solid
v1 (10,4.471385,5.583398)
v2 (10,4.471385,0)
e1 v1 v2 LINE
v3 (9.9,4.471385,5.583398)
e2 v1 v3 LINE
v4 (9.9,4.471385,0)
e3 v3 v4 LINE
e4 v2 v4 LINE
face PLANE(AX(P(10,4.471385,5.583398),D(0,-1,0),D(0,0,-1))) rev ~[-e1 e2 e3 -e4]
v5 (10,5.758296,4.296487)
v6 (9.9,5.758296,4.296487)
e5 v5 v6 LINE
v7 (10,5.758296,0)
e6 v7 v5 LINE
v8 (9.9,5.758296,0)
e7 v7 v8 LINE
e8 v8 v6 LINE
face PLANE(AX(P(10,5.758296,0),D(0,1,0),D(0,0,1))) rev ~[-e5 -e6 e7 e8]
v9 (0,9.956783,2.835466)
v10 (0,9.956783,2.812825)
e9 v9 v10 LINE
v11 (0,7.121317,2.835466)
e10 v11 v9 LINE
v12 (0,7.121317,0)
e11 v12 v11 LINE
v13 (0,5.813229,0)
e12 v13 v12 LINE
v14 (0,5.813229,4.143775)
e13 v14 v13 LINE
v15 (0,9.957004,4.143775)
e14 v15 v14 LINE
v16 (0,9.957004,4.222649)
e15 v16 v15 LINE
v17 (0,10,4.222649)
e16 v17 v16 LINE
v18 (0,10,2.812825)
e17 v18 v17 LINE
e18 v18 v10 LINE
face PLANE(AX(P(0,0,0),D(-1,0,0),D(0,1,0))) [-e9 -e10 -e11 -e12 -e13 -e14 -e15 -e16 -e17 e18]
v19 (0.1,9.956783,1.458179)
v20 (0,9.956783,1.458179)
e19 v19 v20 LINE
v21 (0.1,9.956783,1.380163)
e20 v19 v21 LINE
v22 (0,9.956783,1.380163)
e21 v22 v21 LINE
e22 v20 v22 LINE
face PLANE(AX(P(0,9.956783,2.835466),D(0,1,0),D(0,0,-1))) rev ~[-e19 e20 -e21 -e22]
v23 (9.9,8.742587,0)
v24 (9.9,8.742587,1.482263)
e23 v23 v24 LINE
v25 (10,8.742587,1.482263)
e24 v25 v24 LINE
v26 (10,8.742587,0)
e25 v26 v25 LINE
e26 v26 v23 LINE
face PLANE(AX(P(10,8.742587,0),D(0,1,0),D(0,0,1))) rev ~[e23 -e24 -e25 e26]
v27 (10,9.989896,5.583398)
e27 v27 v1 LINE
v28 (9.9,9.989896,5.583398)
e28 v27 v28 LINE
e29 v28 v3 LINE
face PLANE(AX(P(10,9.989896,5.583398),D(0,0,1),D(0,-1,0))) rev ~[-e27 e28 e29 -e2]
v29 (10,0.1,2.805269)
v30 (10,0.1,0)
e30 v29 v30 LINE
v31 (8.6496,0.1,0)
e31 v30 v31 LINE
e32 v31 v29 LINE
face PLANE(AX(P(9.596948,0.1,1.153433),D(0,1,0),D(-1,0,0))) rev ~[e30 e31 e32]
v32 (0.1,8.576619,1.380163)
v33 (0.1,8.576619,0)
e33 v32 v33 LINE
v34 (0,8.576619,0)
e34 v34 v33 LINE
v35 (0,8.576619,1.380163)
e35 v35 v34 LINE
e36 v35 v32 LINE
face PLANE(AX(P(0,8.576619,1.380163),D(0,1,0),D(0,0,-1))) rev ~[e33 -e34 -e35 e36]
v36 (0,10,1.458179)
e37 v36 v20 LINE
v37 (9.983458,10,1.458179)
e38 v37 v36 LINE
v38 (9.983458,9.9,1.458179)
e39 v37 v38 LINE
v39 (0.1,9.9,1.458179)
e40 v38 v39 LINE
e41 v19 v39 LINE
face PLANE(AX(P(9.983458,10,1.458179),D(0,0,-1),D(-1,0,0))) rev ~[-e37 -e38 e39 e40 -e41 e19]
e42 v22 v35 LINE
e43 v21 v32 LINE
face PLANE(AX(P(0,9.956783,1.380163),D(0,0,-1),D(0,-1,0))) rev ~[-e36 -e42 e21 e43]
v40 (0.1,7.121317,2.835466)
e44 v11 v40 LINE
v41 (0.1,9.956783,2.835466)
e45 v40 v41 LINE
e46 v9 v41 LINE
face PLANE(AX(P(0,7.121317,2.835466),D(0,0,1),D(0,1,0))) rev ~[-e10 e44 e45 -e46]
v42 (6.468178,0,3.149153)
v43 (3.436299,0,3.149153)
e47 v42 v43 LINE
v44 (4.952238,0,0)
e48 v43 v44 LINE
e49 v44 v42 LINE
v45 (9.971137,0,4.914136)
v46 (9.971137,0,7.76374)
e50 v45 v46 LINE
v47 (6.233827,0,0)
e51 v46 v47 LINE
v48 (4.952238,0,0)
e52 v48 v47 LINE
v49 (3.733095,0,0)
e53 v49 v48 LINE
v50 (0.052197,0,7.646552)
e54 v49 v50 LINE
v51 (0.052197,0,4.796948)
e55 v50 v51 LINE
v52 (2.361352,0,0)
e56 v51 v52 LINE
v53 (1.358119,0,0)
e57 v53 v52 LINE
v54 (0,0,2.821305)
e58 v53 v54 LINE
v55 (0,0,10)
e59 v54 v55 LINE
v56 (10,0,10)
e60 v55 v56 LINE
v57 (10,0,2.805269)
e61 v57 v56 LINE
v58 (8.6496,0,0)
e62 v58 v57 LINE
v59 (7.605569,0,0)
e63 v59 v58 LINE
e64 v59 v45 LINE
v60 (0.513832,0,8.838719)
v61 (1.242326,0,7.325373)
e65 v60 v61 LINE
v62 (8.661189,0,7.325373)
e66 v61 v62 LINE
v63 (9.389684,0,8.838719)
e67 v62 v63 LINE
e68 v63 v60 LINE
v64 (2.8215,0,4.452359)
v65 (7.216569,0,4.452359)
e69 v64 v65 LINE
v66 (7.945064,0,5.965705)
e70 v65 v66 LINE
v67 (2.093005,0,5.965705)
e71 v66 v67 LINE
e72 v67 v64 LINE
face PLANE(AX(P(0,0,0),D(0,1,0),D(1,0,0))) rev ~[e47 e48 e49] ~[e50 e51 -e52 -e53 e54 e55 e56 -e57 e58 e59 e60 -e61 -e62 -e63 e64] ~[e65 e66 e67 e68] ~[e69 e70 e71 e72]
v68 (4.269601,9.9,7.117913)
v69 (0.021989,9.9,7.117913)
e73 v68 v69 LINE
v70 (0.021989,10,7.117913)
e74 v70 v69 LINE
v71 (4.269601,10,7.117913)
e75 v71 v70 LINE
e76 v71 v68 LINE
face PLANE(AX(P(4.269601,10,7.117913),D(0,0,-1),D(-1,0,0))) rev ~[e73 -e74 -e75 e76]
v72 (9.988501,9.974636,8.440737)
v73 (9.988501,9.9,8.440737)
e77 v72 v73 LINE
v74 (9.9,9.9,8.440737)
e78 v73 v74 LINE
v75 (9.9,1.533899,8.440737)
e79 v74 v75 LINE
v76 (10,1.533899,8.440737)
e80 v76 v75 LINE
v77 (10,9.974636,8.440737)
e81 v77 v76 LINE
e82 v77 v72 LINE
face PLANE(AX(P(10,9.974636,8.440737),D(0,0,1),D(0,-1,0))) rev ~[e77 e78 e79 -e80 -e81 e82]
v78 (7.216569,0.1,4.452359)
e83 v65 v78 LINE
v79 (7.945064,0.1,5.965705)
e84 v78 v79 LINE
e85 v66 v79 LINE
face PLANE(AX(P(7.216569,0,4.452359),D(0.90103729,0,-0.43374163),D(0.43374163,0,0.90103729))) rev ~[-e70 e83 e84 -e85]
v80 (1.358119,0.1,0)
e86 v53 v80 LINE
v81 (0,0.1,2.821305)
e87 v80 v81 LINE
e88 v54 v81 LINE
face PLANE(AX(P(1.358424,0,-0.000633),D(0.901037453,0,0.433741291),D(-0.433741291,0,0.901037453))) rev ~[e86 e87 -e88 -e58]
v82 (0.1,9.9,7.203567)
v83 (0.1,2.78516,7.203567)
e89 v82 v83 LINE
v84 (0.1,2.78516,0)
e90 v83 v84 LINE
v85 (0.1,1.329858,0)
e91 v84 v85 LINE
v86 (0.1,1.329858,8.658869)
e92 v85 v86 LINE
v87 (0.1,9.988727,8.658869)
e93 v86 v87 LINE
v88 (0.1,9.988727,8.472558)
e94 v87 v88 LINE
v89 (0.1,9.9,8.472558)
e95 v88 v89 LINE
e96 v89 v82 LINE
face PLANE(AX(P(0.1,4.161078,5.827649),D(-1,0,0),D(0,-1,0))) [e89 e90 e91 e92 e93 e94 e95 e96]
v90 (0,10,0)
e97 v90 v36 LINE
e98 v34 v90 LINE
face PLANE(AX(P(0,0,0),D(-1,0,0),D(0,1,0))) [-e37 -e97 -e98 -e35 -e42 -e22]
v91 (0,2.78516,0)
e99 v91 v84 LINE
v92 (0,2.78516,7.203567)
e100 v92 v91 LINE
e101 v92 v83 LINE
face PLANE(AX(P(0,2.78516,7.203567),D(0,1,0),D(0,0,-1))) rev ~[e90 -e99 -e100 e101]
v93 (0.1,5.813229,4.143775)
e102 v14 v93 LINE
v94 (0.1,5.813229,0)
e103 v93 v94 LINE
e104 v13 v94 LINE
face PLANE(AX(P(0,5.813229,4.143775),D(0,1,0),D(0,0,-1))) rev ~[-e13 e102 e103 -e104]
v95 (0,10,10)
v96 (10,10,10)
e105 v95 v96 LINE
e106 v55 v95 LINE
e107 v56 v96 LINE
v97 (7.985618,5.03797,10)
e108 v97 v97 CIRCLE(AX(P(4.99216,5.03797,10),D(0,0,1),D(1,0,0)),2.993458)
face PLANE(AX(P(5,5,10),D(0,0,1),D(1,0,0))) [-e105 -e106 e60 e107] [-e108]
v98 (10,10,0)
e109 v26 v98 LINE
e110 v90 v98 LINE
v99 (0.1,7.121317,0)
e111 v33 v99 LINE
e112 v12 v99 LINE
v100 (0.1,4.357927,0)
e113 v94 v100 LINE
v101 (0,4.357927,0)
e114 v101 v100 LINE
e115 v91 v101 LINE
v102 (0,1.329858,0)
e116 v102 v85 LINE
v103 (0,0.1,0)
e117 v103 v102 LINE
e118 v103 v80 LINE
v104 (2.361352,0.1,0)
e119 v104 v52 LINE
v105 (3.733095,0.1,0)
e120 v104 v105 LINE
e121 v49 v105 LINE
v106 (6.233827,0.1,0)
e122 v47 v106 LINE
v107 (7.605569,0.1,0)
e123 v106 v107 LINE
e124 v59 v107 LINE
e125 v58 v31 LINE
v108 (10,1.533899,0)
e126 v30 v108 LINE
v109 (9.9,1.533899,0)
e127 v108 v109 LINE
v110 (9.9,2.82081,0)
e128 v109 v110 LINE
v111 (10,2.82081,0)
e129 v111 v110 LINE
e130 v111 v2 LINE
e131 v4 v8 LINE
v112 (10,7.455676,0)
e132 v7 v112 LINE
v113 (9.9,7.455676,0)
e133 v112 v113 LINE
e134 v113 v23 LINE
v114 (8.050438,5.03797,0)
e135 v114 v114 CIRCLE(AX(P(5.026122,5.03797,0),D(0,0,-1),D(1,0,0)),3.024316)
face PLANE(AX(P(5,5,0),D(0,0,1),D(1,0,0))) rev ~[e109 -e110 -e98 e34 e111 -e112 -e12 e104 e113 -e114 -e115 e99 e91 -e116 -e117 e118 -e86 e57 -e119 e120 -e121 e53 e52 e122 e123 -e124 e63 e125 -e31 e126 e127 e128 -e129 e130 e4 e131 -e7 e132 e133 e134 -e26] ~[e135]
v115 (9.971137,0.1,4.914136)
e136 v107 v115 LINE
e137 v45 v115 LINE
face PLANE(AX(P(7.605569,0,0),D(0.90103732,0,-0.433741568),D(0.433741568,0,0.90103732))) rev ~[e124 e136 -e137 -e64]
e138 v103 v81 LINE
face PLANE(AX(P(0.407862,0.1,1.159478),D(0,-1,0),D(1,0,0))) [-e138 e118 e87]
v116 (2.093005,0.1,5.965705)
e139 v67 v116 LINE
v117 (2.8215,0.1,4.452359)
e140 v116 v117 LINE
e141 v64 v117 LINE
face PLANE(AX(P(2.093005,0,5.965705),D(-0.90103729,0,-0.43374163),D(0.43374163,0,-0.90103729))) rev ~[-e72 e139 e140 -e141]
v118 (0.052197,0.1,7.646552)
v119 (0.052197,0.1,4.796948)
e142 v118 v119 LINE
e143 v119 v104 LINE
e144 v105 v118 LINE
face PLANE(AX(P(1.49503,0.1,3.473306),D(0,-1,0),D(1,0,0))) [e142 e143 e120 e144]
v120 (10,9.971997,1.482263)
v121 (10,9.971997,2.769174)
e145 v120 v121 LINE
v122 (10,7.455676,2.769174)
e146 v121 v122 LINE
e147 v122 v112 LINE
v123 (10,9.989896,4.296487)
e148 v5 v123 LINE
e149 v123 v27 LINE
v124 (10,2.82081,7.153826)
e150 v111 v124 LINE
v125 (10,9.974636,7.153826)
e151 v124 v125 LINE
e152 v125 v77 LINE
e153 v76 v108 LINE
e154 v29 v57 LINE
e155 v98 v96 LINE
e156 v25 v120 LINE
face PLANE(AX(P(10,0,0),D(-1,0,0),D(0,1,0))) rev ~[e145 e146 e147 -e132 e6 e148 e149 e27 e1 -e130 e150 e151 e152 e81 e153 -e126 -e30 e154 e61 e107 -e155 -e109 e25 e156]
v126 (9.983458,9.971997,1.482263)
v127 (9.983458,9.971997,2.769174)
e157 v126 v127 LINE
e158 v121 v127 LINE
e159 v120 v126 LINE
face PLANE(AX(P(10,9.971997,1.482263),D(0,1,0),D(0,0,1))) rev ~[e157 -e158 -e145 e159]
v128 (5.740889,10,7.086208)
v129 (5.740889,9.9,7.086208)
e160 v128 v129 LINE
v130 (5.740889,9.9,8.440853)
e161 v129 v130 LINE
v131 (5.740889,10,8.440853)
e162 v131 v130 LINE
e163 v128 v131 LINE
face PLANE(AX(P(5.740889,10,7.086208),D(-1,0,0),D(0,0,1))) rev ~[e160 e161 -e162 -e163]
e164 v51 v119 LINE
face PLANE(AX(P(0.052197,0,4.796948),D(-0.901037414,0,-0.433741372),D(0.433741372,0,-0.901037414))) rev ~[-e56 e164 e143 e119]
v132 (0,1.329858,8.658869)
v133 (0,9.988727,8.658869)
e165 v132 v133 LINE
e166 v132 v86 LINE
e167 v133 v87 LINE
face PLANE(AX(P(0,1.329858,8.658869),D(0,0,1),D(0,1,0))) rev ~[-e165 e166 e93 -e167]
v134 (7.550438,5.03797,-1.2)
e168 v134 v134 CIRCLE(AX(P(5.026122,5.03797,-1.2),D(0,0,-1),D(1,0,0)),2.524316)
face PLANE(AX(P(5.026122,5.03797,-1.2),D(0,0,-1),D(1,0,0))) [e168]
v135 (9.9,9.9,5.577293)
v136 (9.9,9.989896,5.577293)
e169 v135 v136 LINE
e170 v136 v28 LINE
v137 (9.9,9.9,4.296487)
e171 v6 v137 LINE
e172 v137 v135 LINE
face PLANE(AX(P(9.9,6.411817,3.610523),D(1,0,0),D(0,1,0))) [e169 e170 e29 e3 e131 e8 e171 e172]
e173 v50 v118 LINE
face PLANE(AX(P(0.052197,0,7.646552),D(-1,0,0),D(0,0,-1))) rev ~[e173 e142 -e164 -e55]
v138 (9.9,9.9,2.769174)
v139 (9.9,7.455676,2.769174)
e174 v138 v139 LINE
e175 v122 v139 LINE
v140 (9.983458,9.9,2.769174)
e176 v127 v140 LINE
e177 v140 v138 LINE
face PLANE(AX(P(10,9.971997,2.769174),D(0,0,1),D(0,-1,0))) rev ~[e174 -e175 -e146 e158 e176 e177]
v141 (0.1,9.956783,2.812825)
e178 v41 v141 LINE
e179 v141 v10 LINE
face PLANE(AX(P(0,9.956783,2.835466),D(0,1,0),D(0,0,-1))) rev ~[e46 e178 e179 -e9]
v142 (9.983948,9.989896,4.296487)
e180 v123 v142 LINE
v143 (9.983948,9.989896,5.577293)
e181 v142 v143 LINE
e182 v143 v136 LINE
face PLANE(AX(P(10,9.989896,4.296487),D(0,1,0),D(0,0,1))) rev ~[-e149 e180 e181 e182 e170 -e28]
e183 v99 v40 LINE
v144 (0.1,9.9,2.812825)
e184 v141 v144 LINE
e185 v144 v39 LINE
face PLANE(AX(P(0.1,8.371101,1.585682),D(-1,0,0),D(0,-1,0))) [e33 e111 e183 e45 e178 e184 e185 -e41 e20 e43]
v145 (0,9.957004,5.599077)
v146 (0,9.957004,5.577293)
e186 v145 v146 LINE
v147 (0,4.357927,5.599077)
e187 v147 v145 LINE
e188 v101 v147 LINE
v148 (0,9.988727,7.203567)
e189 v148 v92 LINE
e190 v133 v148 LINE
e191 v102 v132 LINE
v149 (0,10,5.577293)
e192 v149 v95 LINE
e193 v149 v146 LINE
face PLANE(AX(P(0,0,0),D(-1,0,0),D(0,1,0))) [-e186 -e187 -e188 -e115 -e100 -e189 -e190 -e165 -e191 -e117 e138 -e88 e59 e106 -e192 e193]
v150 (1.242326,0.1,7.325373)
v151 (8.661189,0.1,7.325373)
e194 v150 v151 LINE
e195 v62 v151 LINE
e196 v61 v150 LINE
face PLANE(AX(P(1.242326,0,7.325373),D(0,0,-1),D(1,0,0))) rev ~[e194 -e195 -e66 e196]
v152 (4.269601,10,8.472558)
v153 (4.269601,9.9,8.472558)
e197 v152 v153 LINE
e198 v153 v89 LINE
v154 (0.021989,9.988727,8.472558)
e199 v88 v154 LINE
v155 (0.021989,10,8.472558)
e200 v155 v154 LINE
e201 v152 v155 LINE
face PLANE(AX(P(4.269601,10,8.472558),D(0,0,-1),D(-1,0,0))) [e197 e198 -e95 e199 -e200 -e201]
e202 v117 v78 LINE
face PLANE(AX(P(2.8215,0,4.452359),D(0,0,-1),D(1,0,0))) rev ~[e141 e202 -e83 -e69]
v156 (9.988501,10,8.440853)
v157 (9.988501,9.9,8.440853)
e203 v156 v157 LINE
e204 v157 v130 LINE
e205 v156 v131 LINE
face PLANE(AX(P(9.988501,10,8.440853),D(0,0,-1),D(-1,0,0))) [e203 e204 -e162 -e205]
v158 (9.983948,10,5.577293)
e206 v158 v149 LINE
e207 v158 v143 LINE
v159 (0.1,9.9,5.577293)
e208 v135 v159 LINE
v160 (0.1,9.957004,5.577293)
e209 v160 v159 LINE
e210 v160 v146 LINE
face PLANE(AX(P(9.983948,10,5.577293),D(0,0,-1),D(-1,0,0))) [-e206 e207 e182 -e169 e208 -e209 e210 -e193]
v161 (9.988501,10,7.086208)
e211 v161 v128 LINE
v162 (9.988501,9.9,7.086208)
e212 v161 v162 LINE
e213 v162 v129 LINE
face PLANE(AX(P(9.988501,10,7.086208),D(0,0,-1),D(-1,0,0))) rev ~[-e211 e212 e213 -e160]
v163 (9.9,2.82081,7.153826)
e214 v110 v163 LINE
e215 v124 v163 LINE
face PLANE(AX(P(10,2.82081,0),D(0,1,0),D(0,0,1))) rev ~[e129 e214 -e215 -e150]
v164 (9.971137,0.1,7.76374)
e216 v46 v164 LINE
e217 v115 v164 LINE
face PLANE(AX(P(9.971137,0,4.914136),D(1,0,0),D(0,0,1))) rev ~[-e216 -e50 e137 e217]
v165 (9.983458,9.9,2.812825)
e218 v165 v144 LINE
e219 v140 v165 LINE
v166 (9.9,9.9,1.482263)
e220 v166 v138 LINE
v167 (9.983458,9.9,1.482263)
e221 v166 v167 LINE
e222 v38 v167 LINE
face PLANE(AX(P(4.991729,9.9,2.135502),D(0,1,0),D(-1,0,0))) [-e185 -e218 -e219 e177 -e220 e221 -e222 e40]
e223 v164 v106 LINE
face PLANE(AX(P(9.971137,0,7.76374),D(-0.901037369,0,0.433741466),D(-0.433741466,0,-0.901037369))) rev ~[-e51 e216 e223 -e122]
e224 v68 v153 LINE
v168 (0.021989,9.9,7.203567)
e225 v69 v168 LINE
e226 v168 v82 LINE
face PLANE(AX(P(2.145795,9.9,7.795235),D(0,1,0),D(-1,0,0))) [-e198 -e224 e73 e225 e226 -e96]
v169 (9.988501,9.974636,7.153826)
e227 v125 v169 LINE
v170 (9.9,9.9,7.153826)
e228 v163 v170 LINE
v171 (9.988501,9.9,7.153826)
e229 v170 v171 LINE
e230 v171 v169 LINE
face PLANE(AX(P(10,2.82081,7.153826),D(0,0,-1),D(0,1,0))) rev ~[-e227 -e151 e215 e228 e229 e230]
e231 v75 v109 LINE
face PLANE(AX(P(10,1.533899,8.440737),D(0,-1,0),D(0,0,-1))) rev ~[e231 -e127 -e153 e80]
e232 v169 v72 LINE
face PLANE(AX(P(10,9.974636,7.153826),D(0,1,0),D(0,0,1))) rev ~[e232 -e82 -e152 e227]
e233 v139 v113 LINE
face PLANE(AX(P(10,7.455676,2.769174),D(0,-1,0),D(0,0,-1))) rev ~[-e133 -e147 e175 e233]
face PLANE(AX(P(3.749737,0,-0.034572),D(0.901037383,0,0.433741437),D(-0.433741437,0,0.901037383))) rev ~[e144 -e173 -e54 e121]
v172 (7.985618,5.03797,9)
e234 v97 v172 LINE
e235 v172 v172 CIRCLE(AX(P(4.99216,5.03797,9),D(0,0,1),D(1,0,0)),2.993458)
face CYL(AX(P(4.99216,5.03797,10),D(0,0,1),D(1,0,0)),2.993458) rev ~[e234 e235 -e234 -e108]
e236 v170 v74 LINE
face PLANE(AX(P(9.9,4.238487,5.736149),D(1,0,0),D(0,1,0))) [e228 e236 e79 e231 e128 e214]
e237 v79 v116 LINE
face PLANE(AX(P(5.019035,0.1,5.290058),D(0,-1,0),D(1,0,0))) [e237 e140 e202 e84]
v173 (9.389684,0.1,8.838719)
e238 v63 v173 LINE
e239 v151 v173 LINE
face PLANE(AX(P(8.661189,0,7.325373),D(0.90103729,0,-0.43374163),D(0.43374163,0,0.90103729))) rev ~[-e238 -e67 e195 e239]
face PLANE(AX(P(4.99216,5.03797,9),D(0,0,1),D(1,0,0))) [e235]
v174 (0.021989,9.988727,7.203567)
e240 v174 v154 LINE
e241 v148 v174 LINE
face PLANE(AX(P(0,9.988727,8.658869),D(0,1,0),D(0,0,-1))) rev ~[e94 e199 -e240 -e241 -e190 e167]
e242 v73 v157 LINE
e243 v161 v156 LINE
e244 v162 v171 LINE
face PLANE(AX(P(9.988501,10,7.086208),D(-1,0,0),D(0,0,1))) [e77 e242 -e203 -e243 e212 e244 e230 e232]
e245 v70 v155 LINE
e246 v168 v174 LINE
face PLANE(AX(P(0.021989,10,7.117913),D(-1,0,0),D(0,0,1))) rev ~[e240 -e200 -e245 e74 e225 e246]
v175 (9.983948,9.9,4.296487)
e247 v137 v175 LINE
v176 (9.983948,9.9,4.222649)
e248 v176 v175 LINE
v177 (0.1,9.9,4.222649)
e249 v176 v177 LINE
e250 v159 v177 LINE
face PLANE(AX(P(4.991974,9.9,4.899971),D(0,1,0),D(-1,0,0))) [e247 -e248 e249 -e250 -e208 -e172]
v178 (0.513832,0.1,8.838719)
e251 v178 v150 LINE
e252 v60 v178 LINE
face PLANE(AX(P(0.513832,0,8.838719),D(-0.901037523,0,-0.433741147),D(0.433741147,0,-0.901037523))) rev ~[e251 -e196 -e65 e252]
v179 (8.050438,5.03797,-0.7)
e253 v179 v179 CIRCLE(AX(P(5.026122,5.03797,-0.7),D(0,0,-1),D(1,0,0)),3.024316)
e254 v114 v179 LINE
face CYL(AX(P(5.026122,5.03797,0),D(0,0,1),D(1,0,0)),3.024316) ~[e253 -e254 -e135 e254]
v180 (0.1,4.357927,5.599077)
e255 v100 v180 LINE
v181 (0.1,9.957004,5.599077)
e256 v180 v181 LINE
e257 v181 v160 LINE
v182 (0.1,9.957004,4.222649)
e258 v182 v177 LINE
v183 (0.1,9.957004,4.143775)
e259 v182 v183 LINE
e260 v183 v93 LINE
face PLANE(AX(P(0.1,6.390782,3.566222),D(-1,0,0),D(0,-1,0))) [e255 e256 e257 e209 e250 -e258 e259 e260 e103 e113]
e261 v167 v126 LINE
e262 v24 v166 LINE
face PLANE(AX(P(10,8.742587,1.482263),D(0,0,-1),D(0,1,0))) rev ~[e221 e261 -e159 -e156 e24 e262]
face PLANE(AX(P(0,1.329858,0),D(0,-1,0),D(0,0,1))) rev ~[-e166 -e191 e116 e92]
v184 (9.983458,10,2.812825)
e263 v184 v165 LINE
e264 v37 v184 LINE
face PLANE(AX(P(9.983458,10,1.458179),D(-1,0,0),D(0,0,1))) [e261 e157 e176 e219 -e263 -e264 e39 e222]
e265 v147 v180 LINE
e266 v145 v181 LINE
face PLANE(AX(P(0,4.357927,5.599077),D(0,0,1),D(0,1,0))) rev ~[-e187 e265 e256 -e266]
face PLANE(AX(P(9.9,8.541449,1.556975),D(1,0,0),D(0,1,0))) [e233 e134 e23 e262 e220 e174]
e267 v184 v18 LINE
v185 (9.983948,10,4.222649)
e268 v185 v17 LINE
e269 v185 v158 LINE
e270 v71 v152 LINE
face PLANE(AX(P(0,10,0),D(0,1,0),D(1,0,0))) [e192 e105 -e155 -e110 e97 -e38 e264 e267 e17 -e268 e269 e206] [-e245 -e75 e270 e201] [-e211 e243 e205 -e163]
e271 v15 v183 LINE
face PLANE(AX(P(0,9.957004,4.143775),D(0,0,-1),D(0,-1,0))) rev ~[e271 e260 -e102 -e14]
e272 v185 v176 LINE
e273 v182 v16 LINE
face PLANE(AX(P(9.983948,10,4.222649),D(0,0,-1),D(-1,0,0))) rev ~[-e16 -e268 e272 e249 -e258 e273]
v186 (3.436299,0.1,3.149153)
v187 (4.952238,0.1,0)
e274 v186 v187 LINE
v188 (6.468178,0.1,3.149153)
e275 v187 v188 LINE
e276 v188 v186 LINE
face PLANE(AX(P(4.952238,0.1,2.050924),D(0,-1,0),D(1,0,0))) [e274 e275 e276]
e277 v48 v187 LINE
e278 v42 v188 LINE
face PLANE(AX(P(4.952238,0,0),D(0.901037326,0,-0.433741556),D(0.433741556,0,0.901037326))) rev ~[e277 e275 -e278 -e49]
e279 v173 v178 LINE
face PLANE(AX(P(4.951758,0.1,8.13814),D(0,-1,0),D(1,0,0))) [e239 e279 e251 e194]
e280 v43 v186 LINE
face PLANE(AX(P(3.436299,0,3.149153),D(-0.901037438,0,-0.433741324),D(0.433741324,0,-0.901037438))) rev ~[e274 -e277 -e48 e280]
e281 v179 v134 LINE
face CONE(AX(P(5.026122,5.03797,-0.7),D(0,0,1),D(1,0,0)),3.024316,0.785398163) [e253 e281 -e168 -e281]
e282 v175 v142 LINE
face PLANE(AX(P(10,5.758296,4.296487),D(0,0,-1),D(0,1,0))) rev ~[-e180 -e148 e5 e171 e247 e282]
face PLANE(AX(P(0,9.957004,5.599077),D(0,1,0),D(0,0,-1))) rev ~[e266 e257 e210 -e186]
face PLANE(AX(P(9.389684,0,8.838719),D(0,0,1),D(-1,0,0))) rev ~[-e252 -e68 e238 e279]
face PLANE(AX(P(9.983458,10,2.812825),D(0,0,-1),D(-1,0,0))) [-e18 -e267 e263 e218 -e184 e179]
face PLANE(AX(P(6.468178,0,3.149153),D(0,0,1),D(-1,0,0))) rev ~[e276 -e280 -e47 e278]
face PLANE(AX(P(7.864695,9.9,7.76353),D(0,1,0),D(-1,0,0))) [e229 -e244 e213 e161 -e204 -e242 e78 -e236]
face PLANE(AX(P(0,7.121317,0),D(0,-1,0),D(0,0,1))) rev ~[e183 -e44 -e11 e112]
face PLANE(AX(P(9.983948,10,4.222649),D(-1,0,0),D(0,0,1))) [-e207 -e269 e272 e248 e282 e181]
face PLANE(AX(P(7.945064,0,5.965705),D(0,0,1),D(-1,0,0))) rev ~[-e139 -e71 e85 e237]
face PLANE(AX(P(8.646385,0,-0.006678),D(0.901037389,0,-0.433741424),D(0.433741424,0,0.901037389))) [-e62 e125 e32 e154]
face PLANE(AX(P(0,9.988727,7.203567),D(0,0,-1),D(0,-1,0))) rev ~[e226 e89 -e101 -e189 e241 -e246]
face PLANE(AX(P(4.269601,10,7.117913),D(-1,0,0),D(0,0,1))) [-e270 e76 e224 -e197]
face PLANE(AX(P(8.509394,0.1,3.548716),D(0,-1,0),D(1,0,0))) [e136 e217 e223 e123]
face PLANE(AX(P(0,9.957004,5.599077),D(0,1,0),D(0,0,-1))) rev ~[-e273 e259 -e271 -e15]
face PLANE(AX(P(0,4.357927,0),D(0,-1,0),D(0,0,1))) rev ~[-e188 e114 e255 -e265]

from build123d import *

# Parameters (mm, degrees)
BOX_W           = 10
BOX_H           = 10
BOX_DEPTH       = 10
POCKET_DEPTH    = 0.1
POCKET001_DEPTH = 0.1
POCKET002_DEPTH = 0.1
SKETCH003_W     = 9.983458
SKETCH003_H     = 1.354645
SKETCH003_W_2   = 9.983948
SKETCH003_W_3   = 4.247611
POCKET003_DEPTH = 0.1
SKETCH005_R     = 2.993458
POCKET004_DEPTH = 1
SKETCH004_R     = 3.024316
PAD_DEPTH       = 1.2
CHAMFER_SIZE    = 0.5


with BuildPart() as part:
    # Box → Box (new body)
    with BuildSketch(Plane.XY):
        with Locations((5, 5)):
            Rectangle(BOX_W, BOX_H)
    extrude(amount=BOX_DEPTH)

    # Sketch → Pocket (cut)
    with BuildSketch(Plane.XZ):
        Polygon((-0.013318, 2.848971), (-0.013318, -0.000633), (1.358424, -0.000633), align=None)
        Polygon((10.018128, 2.842927), (10.018128, -0.006678), (8.646385, -0.006678), align=None)
        Polygon((0.052197, 7.646552), (0.052197, 4.796948), (2.377994, -0.034572), (3.749737, -0.034572), align=None)
        Polygon((6.233827, 0), (7.605569, 0), (9.971137, 4.914136), (9.971137, 7.76374), align=None)
        Polygon((3.436299, 3.149153), (4.952238, 0), (6.468178, 3.149153), align=None)
        Polygon((2.093005, 5.965705), (2.8215, 4.452359), (7.216569, 4.452359), (7.945064, 5.965705), align=None)
        Polygon((0.513832, 8.838719), (1.242326, 7.325373), (8.661189, 7.325373), (9.389684, 8.838719), align=None)
    extrude(amount=-POCKET_DEPTH, mode=Mode.SUBTRACT)

    # Sketch001 → Pocket001 (cut)
    with BuildSketch(Plane(origin=(0, 0, 0), x_dir=(0, -1, 0), z_dir=(-1, 0, 0))):
        Polygon((-8.576619, 0), (-7.121317, 0), (-7.121317, 2.835466), (-9.956783, 2.835466), (-9.956783, 1.380163), (-8.576619, 1.380163), align=None)
        Polygon((-9.957004, 5.599077), (-9.957004, 4.143775), (-5.813229, 4.143775), (-5.813229, 0), (-4.357927, 0), (-4.357927, 5.599077), align=None)
        Polygon((-9.988727, 8.658869), (-9.988727, 7.203567), (-2.78516, 7.203567), (-2.78516, 0), (-1.329858, 0), (-1.329858, 8.658869), align=None)
    extrude(amount=-POCKET001_DEPTH, mode=Mode.SUBTRACT)

    # Sketch002 → Pocket002 (cut)
    with BuildSketch(Plane.YZ.offset(10)):
        Polygon((8.742587, 0), (8.742587, 1.482263), (9.971997, 1.482263), (9.971997, 2.769174), (7.455676, 2.769174), (7.455676, 0), align=None)
        Polygon((5.758296, 0), (5.758296, 4.296487), (9.989896, 4.296487), (9.989896, 5.583398), (4.471385, 5.583398), (4.471385, 0), align=None)
        Polygon((2.82081, 0), (2.82081, 7.153826), (9.974636, 7.153826), (9.974636, 8.440737), (1.533899, 8.440737), (1.533899, 0), align=None)
    extrude(amount=-POCKET002_DEPTH, mode=Mode.SUBTRACT)

    # Sketch003 → Pocket003 (cut)
    with BuildSketch(Plane(origin=(0, 10, 0), x_dir=(-1, 0, 0), z_dir=(0, 1, 0))):
        with Locations((-4.991729, 2.135502)):
            Rectangle(SKETCH003_W, SKETCH003_H)
        with Locations((-4.991974, 4.899971)):
            Rectangle(SKETCH003_W_2, SKETCH003_H)
        with Locations((-7.864695, 7.76353)):
            Rectangle(SKETCH003_W_3, SKETCH003_H)
        with Locations((-2.145795, 7.795235)):
            Rectangle(SKETCH003_W_3, SKETCH003_H)
    extrude(amount=-POCKET003_DEPTH, mode=Mode.SUBTRACT)

    # Sketch005 → Pocket004 (cut)
    with BuildSketch(Plane.XY.offset(10)):
        with Locations((4.99216, 5.03797)):
            Circle(SKETCH005_R)
    extrude(amount=-POCKET004_DEPTH, mode=Mode.SUBTRACT)

    # Sketch004 → Pad (new body)
    with BuildSketch(Plane(origin=(0, 0, 0), x_dir=(1, 0, 0), z_dir=(0, 0, -1))):
        with Locations((5.026122, -5.03797)):
            Circle(SKETCH004_R)
    extrude(amount=PAD_DEPTH)

    # Chamfer
    chamfer_edges = [part.edges().sort_by_distance(p)[0] for p in [
        (2.001806, 5.03797, -1.2),
    ]]
    chamfer(chamfer_edges, length=CHAMFER_SIZE)


solid = part.part
